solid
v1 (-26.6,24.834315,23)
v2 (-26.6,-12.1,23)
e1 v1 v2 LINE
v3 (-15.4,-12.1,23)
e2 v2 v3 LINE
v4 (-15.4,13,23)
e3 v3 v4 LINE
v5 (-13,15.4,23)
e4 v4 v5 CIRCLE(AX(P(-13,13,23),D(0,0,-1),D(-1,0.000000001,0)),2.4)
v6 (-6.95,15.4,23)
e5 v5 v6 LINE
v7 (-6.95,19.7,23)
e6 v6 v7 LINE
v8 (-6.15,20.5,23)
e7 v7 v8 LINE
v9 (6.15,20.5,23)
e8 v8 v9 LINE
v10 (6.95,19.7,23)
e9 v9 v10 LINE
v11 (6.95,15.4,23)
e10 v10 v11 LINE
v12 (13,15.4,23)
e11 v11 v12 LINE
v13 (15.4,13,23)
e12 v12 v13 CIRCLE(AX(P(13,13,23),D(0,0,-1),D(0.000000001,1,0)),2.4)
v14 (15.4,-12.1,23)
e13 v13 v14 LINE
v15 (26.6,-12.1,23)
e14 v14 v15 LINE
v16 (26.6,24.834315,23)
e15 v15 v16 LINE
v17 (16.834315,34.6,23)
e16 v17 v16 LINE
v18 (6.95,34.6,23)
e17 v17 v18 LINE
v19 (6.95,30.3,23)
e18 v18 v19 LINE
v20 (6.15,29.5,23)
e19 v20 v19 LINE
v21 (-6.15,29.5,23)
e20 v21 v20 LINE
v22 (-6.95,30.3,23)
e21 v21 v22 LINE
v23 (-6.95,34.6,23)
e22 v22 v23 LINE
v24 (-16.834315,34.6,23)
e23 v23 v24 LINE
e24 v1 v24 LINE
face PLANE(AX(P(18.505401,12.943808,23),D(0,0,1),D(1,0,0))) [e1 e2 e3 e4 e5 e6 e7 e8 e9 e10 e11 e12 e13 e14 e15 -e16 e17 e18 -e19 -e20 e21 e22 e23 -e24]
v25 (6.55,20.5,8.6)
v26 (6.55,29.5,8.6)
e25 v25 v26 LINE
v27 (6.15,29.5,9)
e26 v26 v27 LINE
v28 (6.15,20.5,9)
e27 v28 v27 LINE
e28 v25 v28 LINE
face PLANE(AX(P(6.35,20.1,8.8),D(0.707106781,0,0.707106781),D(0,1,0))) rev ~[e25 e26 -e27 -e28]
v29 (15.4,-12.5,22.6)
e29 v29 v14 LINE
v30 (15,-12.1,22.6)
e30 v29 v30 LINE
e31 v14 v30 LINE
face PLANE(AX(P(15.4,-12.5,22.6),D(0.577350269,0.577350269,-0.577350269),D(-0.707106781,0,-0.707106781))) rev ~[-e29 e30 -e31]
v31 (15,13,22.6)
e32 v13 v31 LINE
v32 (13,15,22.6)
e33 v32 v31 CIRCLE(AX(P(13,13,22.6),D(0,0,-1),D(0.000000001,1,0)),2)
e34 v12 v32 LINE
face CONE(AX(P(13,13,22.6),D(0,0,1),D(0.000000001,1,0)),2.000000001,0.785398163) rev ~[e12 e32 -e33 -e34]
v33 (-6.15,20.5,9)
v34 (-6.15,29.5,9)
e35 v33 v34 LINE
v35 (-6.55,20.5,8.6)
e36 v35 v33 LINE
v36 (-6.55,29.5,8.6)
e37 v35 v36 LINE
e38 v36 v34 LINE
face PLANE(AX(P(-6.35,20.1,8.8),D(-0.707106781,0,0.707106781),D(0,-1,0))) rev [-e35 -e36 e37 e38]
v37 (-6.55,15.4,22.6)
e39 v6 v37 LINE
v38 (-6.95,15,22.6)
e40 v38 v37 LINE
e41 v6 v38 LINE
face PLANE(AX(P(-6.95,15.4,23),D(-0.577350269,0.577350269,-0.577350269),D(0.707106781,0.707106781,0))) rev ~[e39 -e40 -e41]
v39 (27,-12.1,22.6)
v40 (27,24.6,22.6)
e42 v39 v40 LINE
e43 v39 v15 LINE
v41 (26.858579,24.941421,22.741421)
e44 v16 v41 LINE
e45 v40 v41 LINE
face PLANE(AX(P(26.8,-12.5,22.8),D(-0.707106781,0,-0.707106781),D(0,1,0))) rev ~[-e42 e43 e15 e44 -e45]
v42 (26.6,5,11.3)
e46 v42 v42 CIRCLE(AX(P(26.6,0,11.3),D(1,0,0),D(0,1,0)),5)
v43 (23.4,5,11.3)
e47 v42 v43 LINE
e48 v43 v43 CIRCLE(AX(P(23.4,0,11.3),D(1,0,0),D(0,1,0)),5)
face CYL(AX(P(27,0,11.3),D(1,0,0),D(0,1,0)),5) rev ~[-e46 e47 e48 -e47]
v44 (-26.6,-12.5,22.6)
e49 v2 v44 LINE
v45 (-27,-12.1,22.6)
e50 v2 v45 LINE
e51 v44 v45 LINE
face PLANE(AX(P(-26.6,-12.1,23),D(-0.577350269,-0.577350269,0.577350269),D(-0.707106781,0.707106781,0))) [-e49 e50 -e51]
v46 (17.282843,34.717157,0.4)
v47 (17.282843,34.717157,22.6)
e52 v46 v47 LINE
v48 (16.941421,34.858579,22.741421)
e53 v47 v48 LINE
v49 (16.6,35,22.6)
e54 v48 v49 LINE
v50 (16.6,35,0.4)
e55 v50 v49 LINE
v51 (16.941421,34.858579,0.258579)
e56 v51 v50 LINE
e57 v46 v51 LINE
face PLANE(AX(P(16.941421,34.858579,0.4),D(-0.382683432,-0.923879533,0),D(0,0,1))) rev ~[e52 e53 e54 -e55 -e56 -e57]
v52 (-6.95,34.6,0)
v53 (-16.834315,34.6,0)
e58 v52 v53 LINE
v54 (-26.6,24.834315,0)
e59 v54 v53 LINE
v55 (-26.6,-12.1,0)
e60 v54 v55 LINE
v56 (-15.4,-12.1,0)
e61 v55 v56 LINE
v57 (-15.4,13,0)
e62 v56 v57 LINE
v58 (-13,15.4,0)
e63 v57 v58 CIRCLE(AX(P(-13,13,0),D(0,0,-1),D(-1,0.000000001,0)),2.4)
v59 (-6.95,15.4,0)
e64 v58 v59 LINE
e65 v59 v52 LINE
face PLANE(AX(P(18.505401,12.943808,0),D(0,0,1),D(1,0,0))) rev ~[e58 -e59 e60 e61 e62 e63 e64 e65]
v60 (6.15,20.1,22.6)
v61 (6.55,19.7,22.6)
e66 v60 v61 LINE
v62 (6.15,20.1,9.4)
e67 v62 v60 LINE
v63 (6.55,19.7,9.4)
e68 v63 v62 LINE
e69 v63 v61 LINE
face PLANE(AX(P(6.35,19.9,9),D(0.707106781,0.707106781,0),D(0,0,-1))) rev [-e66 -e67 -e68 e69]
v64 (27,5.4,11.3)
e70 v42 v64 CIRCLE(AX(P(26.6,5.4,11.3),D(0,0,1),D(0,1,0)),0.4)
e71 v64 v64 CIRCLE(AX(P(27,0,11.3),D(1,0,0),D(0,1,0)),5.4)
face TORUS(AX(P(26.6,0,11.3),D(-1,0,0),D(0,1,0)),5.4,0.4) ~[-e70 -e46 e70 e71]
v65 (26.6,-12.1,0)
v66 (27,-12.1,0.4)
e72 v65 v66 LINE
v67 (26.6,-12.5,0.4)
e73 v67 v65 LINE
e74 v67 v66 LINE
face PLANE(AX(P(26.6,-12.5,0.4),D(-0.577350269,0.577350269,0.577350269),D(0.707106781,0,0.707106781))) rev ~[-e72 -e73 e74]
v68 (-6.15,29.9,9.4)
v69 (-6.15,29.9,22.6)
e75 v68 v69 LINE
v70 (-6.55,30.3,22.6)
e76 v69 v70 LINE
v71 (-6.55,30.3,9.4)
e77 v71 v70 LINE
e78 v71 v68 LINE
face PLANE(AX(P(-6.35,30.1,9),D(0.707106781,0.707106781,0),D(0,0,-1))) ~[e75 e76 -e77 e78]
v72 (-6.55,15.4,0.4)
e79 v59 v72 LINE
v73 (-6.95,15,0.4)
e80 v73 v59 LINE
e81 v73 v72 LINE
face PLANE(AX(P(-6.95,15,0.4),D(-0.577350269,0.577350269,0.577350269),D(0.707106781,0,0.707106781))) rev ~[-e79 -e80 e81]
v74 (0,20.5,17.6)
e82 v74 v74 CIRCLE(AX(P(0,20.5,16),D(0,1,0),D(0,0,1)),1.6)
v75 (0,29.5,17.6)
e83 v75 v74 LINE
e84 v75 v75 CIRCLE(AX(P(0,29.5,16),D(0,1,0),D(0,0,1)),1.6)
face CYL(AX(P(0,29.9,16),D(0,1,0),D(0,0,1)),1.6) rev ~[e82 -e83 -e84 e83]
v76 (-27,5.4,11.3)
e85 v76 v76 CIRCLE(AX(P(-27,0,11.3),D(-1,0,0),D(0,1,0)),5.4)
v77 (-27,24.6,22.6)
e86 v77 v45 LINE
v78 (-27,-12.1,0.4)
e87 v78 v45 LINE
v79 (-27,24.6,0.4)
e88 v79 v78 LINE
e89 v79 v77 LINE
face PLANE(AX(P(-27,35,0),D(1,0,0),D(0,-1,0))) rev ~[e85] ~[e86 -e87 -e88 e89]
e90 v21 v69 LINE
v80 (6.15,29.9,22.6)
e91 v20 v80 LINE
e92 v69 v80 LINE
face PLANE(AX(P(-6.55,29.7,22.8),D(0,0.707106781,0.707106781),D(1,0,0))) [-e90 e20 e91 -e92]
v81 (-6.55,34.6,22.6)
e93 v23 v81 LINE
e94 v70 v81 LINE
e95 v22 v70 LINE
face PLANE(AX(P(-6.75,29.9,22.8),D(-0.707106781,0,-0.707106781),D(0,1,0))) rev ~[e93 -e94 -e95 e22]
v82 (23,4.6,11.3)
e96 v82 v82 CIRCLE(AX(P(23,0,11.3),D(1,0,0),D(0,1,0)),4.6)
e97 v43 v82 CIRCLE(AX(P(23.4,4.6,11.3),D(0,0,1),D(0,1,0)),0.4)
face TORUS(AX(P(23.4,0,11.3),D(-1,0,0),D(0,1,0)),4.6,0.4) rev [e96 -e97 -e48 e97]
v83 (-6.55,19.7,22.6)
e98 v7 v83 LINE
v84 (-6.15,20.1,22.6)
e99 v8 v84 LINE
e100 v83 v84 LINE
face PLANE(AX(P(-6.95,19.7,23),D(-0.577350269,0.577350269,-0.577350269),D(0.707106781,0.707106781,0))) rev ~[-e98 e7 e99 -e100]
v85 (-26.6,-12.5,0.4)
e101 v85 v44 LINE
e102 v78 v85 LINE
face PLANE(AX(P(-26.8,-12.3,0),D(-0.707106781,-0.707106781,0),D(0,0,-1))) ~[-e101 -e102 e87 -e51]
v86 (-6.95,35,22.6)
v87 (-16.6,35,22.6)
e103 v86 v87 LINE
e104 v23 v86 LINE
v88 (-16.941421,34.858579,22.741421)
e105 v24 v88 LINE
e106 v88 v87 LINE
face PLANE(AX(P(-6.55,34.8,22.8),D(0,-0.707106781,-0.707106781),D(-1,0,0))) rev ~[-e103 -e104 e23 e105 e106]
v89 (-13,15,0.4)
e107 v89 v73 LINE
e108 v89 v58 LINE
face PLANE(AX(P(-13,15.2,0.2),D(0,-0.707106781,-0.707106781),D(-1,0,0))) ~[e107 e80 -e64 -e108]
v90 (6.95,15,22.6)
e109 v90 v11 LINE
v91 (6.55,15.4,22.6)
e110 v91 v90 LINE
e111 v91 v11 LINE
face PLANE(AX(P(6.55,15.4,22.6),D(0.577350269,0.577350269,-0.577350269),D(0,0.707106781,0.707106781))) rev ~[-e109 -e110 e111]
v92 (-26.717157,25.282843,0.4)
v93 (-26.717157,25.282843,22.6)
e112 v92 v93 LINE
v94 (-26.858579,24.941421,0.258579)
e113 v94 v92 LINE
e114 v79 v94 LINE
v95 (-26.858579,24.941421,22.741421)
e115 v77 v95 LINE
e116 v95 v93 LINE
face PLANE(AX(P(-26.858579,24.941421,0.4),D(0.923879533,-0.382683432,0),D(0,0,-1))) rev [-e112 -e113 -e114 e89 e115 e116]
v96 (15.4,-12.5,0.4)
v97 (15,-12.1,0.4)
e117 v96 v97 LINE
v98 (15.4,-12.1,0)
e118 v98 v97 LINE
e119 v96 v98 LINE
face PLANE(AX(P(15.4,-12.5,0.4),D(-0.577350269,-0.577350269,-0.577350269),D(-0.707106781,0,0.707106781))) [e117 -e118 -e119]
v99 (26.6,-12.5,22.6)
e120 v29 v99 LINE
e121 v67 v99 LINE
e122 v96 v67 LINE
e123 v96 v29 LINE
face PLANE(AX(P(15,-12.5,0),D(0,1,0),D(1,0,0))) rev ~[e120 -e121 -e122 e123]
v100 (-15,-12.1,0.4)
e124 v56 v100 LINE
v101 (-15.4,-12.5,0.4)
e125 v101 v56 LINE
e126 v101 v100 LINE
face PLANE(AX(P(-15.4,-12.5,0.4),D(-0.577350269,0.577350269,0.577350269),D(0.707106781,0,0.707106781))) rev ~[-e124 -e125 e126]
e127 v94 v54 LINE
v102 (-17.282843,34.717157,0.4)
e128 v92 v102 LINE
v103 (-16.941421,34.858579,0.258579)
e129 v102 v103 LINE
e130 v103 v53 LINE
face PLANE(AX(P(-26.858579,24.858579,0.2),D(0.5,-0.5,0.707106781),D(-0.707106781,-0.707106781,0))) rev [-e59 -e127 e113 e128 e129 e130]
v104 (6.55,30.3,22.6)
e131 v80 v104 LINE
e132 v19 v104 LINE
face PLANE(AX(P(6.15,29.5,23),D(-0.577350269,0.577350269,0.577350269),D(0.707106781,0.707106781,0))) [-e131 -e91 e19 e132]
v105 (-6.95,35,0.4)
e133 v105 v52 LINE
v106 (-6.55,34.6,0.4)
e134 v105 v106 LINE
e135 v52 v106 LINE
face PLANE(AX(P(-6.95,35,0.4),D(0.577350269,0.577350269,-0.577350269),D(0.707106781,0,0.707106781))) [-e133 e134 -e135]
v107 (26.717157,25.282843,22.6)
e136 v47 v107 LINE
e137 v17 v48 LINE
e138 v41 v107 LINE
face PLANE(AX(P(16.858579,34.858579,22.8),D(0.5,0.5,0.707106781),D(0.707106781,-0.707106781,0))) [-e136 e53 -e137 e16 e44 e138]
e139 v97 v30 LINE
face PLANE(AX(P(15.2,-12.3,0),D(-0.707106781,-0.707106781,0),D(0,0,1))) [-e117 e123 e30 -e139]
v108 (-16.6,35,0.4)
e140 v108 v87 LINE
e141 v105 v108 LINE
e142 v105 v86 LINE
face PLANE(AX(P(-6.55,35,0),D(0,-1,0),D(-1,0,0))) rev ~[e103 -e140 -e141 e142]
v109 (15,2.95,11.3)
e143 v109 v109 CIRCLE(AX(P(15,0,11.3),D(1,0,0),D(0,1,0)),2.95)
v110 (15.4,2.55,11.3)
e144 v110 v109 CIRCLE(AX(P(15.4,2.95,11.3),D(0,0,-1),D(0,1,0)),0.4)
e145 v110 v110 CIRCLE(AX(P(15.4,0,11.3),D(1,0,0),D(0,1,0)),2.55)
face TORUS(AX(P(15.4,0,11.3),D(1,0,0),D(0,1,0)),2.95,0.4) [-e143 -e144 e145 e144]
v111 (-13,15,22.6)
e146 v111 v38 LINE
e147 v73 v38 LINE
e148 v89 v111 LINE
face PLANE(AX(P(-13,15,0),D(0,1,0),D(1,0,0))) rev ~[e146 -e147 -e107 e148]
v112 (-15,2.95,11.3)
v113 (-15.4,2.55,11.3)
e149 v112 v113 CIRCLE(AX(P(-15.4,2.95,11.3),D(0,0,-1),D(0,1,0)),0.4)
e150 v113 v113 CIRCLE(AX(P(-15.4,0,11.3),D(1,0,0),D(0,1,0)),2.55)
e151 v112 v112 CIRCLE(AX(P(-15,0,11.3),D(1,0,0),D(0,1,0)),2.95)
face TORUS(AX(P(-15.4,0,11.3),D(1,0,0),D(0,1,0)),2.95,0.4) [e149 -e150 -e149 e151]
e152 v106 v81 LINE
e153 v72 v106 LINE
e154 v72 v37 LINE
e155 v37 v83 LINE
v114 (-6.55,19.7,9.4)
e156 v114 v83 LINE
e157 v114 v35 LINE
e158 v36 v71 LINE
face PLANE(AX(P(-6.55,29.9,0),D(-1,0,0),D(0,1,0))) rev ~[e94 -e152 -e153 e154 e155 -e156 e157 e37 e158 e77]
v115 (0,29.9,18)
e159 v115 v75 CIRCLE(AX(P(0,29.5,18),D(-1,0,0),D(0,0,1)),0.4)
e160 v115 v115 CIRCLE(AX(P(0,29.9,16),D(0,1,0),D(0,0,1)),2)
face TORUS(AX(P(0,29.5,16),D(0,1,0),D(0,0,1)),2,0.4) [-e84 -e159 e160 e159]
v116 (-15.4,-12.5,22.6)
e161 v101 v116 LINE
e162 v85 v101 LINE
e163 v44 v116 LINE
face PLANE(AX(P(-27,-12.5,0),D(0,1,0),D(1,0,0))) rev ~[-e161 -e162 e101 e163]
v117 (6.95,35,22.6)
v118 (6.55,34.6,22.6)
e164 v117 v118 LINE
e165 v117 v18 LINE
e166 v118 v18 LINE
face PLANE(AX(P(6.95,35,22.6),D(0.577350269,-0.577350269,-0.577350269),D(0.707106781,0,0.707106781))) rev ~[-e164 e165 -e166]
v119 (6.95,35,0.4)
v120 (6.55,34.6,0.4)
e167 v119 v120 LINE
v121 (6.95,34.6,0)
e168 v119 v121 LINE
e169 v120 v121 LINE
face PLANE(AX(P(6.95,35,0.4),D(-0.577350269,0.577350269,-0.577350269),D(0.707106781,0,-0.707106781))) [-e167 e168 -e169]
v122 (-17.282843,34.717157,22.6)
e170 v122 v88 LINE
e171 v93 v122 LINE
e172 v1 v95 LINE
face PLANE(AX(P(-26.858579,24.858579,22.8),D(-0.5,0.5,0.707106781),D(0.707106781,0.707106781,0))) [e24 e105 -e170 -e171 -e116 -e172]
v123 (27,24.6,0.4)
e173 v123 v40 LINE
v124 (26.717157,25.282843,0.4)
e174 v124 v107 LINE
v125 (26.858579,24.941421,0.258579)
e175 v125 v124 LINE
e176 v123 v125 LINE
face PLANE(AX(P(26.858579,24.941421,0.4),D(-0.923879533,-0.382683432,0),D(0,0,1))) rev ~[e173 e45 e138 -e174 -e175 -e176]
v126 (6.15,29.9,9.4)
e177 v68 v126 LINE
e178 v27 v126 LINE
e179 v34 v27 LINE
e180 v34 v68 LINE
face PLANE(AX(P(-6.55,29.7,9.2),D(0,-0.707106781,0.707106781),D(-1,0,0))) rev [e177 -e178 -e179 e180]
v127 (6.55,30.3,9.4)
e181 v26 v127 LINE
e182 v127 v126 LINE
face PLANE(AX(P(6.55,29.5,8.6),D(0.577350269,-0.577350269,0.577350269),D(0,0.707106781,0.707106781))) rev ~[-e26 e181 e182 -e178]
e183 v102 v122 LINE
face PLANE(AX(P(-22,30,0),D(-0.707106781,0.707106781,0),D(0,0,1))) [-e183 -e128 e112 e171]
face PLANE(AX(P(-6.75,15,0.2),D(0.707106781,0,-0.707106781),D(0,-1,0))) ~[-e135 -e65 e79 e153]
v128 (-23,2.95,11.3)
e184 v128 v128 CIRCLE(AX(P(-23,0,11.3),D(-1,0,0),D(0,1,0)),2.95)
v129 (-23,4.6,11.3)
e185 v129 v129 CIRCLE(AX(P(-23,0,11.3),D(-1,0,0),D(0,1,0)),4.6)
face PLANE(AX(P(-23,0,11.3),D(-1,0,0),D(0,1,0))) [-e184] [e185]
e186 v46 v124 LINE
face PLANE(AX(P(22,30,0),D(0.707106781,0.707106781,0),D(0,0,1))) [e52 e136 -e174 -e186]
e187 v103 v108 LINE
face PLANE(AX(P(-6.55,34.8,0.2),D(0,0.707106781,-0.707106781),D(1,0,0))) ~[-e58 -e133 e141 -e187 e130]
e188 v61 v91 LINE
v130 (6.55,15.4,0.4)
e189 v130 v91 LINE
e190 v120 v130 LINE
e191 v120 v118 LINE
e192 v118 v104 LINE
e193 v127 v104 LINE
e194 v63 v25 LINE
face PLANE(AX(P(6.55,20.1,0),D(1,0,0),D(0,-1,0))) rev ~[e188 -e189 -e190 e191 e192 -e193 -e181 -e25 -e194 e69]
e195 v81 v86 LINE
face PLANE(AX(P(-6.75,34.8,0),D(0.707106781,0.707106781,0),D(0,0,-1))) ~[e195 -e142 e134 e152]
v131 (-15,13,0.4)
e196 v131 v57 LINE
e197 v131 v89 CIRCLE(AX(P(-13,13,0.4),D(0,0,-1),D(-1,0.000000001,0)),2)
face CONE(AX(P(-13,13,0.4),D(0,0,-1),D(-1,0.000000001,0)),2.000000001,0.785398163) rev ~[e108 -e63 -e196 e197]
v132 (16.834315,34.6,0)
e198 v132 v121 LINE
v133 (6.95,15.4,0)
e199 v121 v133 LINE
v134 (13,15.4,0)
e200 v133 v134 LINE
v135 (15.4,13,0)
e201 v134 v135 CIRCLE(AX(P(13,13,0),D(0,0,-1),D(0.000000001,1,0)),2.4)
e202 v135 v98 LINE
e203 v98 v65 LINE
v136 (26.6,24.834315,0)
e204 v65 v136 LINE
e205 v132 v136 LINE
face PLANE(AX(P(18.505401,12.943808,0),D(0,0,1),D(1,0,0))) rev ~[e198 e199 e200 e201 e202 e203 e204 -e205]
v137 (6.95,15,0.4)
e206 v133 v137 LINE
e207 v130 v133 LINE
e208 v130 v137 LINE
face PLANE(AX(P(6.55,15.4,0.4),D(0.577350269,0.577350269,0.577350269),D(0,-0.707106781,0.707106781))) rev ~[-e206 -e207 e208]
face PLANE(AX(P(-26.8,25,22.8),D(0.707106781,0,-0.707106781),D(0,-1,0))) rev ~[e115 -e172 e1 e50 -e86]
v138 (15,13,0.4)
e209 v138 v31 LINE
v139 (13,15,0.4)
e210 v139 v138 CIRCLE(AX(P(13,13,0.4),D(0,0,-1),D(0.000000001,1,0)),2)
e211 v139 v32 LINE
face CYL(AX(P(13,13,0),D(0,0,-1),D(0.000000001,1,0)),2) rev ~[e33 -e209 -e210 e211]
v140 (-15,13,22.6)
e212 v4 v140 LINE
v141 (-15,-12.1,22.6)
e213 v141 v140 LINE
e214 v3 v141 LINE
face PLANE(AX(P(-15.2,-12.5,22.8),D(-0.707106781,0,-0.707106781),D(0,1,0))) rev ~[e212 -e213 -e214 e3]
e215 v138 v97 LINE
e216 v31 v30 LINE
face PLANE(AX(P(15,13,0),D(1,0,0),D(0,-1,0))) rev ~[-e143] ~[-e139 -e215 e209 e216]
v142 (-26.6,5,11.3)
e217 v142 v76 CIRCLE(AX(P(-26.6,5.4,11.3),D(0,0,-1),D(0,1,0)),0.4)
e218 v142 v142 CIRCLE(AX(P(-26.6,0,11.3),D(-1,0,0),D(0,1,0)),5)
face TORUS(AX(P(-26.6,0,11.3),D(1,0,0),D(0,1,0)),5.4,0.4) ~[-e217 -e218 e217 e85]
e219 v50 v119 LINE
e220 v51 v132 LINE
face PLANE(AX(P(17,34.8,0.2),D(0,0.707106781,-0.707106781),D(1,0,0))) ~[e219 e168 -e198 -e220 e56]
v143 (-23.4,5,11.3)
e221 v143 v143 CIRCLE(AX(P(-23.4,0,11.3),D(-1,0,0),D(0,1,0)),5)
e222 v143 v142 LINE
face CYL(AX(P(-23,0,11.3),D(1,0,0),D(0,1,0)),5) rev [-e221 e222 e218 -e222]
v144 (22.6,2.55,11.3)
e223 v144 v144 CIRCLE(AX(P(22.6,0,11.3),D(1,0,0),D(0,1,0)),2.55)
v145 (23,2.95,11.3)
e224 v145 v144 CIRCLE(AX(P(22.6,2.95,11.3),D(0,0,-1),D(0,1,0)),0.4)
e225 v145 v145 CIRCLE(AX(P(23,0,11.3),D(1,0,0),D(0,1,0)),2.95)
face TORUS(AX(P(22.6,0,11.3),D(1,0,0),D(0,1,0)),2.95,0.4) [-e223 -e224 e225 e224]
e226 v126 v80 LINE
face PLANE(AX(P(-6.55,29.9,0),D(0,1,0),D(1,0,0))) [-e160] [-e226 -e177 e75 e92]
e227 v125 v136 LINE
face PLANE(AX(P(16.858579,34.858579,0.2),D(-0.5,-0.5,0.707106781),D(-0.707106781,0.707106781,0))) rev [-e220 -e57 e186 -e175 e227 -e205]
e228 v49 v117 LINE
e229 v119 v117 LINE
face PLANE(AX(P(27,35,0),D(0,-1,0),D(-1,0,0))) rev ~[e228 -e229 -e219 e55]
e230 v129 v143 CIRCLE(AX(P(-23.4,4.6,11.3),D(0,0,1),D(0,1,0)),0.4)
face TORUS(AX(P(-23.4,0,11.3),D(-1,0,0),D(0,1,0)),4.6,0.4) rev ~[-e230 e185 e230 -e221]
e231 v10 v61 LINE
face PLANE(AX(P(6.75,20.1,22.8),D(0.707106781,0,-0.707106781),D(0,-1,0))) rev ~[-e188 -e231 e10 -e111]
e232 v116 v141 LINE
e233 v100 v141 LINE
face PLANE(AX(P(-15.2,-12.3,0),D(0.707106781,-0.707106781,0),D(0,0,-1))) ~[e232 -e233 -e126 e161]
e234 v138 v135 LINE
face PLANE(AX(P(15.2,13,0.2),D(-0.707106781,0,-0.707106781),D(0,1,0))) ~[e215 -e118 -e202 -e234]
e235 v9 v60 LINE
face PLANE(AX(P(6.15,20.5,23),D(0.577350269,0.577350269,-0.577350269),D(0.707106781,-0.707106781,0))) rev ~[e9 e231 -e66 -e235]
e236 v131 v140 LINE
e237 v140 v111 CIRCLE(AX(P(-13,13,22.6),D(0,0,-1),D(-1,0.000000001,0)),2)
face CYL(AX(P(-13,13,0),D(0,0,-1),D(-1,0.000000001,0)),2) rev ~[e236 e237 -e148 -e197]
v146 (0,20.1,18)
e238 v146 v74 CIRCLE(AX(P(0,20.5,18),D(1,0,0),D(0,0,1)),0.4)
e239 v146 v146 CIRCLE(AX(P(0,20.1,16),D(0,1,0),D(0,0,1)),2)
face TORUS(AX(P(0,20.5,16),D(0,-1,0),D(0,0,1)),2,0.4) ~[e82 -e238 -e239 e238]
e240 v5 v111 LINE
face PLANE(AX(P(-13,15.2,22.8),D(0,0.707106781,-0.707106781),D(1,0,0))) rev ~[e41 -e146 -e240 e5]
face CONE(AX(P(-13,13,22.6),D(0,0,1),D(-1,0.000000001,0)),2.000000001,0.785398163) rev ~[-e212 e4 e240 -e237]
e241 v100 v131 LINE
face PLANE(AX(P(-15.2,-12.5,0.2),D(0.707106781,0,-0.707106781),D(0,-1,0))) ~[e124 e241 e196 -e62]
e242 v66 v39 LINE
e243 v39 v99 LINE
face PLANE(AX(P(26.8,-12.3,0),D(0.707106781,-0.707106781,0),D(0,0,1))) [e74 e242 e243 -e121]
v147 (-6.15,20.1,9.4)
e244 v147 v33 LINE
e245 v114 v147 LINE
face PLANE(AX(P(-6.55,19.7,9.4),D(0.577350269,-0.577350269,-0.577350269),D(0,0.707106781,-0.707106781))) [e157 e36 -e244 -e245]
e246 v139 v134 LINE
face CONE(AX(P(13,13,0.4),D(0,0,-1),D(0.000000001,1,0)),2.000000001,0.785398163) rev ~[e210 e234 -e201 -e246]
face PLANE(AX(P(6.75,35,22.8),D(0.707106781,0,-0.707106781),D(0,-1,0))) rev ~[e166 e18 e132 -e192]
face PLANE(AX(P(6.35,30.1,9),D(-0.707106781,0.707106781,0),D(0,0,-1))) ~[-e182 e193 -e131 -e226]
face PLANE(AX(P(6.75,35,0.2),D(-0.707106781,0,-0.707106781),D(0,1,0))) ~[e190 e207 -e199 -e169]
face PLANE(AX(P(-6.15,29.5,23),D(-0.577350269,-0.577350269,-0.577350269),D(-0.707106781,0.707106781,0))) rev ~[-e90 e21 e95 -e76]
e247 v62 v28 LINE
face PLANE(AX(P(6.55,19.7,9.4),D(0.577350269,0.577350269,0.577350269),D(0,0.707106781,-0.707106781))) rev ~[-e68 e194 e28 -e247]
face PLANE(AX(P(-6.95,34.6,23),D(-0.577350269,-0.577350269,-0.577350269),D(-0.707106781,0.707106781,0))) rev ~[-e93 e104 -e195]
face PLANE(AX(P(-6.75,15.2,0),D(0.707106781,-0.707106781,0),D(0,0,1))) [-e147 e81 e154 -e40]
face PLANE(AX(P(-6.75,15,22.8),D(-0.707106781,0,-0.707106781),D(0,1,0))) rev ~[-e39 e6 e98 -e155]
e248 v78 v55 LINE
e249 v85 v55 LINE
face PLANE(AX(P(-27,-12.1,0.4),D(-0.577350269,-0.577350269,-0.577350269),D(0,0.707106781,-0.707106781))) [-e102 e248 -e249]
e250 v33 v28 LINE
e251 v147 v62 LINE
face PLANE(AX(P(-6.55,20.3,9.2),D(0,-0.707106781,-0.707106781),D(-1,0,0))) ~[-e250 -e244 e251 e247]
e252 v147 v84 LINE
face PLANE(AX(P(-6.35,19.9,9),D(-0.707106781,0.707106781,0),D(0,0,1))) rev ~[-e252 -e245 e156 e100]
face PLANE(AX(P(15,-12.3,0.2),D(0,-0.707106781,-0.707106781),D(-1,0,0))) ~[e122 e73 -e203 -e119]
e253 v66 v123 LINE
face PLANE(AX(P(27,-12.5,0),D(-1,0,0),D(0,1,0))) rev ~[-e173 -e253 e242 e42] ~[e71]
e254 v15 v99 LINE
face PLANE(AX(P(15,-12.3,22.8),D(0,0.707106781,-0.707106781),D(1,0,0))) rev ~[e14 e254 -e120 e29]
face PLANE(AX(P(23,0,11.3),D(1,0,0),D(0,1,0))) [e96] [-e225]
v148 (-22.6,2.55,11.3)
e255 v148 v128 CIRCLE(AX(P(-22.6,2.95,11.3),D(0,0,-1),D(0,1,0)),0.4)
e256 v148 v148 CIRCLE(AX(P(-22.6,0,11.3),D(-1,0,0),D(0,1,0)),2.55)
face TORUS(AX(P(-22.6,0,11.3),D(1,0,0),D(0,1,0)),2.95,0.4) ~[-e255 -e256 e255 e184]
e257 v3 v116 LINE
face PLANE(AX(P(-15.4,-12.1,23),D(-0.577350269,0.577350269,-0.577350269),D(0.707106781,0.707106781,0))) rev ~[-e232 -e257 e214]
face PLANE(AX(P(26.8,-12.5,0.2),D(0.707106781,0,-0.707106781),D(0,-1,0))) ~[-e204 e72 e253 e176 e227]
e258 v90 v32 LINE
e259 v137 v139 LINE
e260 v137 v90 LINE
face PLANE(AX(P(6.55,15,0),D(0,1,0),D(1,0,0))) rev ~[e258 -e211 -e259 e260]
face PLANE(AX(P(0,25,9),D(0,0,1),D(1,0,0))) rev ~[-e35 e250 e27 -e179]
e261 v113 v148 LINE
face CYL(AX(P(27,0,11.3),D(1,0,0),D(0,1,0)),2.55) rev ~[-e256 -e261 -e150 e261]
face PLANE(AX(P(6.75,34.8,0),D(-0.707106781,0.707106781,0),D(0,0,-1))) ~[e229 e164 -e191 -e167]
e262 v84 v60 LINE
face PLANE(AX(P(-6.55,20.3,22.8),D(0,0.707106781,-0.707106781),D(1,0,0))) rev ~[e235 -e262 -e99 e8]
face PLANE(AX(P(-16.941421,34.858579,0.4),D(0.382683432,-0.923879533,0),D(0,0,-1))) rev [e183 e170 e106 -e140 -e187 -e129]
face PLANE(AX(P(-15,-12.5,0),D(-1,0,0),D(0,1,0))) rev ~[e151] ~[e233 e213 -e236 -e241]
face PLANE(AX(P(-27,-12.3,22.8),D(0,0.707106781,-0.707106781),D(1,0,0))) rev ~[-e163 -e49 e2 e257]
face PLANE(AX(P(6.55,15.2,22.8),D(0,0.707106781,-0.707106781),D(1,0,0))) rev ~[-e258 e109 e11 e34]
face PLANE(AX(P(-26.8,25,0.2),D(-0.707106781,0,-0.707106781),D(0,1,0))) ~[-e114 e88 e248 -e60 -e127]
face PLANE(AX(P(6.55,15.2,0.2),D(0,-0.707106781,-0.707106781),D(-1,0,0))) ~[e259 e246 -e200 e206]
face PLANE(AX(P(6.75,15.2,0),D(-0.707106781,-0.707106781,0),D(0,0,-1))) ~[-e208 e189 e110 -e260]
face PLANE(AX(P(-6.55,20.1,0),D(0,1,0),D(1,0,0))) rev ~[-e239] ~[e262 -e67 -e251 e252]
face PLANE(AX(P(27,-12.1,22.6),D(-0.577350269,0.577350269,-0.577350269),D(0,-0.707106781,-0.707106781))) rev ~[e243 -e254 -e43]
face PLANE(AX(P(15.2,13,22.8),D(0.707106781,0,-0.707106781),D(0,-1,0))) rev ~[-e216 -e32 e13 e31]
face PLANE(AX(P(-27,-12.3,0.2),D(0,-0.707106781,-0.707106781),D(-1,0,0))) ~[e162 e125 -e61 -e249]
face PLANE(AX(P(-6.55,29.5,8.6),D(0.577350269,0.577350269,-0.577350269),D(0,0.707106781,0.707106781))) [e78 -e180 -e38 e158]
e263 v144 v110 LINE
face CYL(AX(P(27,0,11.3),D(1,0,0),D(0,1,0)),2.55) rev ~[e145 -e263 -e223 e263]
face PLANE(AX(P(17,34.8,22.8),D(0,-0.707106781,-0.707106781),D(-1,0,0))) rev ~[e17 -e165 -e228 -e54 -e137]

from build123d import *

# Parameters (mm, degrees)
SKETCH1_W           = 13.1
SKETCH1_H           = 9.8
BOSS_EXTRUDE1_DEPTH = 23
SKETCH1_4_W         = 13.1
SKETCH1_4_H         = 9.8
CUT_EXTRUDE1_DEPTH  = 9
CHAMFER4_SIZE       = 10
CHAMFER5_SIZE       = 0.4
CHAMFER6_SIZE       = 0.4
SKETCH2_R           = 2.55
CUT_EXTRUDE2_DEPTH  = 69.337398253
SKETCH2_4_R         = 5
SKETCH2_4_R_2       = 2.55
CUT_EXTRUDE3_DEPTH  = 4
CUT_EXTRUDE4_START  = -4
SKETCH5_R           = 5
SKETCH5_R_2         = 2.55
CUT_EXTRUDE4_DEPTH  = 4
FILLET1_R           = 0.4
SKETCH6_R           = 1.6
CUT_EXTRUDE5_DEPTH  = 56.278929078
FILLET2_R           = 0.4


with BuildPart() as part:
    # Sketch1 → Boss-Extrude1 (new body)
    with BuildSketch(Plane.XY):
        with BuildLine():
            Line((6.55, 20.1), (6.55, 15))
            Line((6.55, 15), (13, 15))
            ThreePointArc((13, 15), (14.414213562, 14.414213562), (15, 13))
            Line((15, 13), (15, -12.5))
            Line((15, -12.5), (27, -12.5))
            Line((27, -12.5), (27, 35))
            Line((27, 35), (6.55, 35))
            Line((6.55, 35), (6.55, 29.9))
            Line((6.55, 29.9), (6.55, 20.1))
        make_face()
        with BuildLine():
            Line((-27, -12.5), (-15, -12.5))
            Line((-15, -12.5), (-15, 13))
            ThreePointArc((-15, 13), (-14.414213562, 14.414213562), (-13, 15))
            Line((-13, 15), (-6.55, 15))
            Line((-6.55, 15), (-6.55, 20.1))
            Line((-6.55, 20.1), (-6.55, 29.9))
            Line((-6.55, 29.9), (-6.55, 35))
            Line((-6.55, 35), (-27, 35))
            Line((-27, 35), (-27, -12.5))
        make_face()
        with Locations((0, 25)):
            Rectangle(SKETCH1_W, SKETCH1_H)
    extrude(amount=BOSS_EXTRUDE1_DEPTH)

    # Sketch1<4> → Cut-Extrude1 (cut)
    with BuildSketch(Plane.XY):
        with Locations((0, 25)):
            Rectangle(SKETCH1_4_W, SKETCH1_4_H)
    extrude(amount=CUT_EXTRUDE1_DEPTH, mode=Mode.SUBTRACT)

    # Chamfer4
    chamfer4_edges = [part.edges().sort_by_distance(p)[0] for p in [
        (-27, 35, 11.5),
        (27, 35, 11.5),
    ]]
    chamfer(chamfer4_edges, length=CHAMFER4_SIZE)

    # Chamfer5
    chamfer5_edges = [part.edges().sort_by_distance(p)[0] for p in [
        (15, 0.25, 23),
        (21, -12.5, 23),
        (27, 6.25, 23),
        (9.775, 15, 0),
        (6.55, 25, 0),
        (-6.55, 25, 0),
        (-9.775, 15, 0),
        (-14.414213562, 14.414213562, 0),
        (-15, 0.25, 0),
        (-21, -12.5, 0),
        (-11.775, 35, 0),
        (27, 6.25, 0),
        (21, -12.5, 0),
        (15, 0.25, 0),
        (14.414213562, 14.414213562, 0),
        (6.55, 32.45, 23),
        (6.55, 15, 11.5),
        (6.55, 20.1, 16),
        (-6.55, 20.1, 16),
        (-6.55, 15, 11.5),
        (-15, -12.5, 11.5),
        (-27, -12.5, 11.5),
        (-6.55, 35, 11.5),
        (-6.55, 29.9, 16),
        (6.55, 29.9, 16),
        (6.55, 35, 11.5),
        (27, -12.5, 11.5),
        (15, -12.5, 11.5),
        (0, 29.9, 23),
        (-6.55, 32.45, 23),
        (-11.775, 35, 23),
        (14.414213562, 14.414213562, 23),
        (-21, -12.5, 23),
        (0, 29.9, 9),
        (6.55, 25, 9),
        (-6.55, 25, 9),
        (0, 20.1, 9),
        (-15, 0.25, 23),
        (-14.414213562, 14.414213562, 23),
        (11.775, 35, 0),
        (11.775, 35, 23),
        (-9.775, 15, 23),
        (22, 30, 0),
        (-27, 6.25, 23),
        (-22, 30, 23),
        (22, 30, 23),
        (-27, 6.25, 0),
        (-6.55, 17.55, 23),
        (-22, 30, 0),
        (0, 20.1, 23),
        (6.55, 17.55, 23),
        (9.775, 15, 23),
    ]]
    chamfer(chamfer5_edges, length=CHAMFER5_SIZE)

    # Chamfer6
    chamfer6_edges = [part.edges().sort_by_distance(p)[0] for p in [
        (-27, 25, 11.5),
        (27, 25, 11.5),
        (-17, 35, 11.5),
        (17, 35, 11.5),
    ]]
    chamfer(chamfer6_edges, length=CHAMFER6_SIZE)

    # Sketch2 → Cut-Extrude2 (cut, through all)
    with BuildSketch(Plane(origin=(27, 0, 0), x_dir=(0, 0, -1), z_dir=(1, 0, 0))):
        with Locations(Location((-11.3, 0, 0), (0, 0, 90))):
            Circle(SKETCH2_R)
    extrude(amount=-CUT_EXTRUDE2_DEPTH, mode=Mode.SUBTRACT)

    # Sketch2<4> → Cut-Extrude3 (cut)
    with BuildSketch(Plane(origin=(27, 0, 0), x_dir=(0, 0, -1), z_dir=(1, 0, 0))):
        with Locations(Location((-11.3, 0, 0), (0, 0, 90))):
            Circle(SKETCH2_4_R)
        with Locations(Location((-11.3, 0, 0), (0, 0, 90))):
            Circle(SKETCH2_4_R_2, mode=Mode.SUBTRACT)
    extrude(amount=-CUT_EXTRUDE3_DEPTH, mode=Mode.SUBTRACT)

    # Sketch5 → Cut-Extrude4 (cut)
    with BuildSketch(Plane.ZY.offset(27).offset(CUT_EXTRUDE4_START)):
        with Locations(Location((11.3, 0, 0), (0, 0, 90))):
            Circle(SKETCH5_R)
        with Locations(Location((11.3, 0, 0), (0, 0, 270))):
            Circle(SKETCH5_R_2, mode=Mode.SUBTRACT)
    extrude(amount=CUT_EXTRUDE4_DEPTH, mode=Mode.SUBTRACT)

    # Fillet1
    fillet1_edges = [part.edges().sort_by_distance(p)[0] for p in [
        (27, -5, 11.3),
        (-27, -5, 11.3),
    ]]
    fillet(fillet1_edges, radius=FILLET1_R)

    # Sketch6 → Cut-Extrude5 (cut, through all)
    with BuildSketch(Plane(origin=(0, 29.9, 0), x_dir=(1, 0, 0), z_dir=(0, 1, 0))):
        with Locations(Location((0, -16, 0), (0, 0, 270))):
            Circle(SKETCH6_R)
    extrude(amount=-CUT_EXTRUDE5_DEPTH, mode=Mode.SUBTRACT)

    # Fillet2
    fillet2_edges = [part.edges().sort_by_distance(p)[0] for p in [
        (15, -2.55, 11.3),
        (-15, -2.55, 11.3),
        (23, -5, 11.3),
        (23, -2.55, 11.3),
        (-23, -2.55, 11.3),
        (-23, -5, 11.3),
        (0, 20.1, 14.4),
        (0, 29.9, 14.4),
    ]]
    fillet(fillet2_edges, radius=FILLET2_R)


solid = part.part
